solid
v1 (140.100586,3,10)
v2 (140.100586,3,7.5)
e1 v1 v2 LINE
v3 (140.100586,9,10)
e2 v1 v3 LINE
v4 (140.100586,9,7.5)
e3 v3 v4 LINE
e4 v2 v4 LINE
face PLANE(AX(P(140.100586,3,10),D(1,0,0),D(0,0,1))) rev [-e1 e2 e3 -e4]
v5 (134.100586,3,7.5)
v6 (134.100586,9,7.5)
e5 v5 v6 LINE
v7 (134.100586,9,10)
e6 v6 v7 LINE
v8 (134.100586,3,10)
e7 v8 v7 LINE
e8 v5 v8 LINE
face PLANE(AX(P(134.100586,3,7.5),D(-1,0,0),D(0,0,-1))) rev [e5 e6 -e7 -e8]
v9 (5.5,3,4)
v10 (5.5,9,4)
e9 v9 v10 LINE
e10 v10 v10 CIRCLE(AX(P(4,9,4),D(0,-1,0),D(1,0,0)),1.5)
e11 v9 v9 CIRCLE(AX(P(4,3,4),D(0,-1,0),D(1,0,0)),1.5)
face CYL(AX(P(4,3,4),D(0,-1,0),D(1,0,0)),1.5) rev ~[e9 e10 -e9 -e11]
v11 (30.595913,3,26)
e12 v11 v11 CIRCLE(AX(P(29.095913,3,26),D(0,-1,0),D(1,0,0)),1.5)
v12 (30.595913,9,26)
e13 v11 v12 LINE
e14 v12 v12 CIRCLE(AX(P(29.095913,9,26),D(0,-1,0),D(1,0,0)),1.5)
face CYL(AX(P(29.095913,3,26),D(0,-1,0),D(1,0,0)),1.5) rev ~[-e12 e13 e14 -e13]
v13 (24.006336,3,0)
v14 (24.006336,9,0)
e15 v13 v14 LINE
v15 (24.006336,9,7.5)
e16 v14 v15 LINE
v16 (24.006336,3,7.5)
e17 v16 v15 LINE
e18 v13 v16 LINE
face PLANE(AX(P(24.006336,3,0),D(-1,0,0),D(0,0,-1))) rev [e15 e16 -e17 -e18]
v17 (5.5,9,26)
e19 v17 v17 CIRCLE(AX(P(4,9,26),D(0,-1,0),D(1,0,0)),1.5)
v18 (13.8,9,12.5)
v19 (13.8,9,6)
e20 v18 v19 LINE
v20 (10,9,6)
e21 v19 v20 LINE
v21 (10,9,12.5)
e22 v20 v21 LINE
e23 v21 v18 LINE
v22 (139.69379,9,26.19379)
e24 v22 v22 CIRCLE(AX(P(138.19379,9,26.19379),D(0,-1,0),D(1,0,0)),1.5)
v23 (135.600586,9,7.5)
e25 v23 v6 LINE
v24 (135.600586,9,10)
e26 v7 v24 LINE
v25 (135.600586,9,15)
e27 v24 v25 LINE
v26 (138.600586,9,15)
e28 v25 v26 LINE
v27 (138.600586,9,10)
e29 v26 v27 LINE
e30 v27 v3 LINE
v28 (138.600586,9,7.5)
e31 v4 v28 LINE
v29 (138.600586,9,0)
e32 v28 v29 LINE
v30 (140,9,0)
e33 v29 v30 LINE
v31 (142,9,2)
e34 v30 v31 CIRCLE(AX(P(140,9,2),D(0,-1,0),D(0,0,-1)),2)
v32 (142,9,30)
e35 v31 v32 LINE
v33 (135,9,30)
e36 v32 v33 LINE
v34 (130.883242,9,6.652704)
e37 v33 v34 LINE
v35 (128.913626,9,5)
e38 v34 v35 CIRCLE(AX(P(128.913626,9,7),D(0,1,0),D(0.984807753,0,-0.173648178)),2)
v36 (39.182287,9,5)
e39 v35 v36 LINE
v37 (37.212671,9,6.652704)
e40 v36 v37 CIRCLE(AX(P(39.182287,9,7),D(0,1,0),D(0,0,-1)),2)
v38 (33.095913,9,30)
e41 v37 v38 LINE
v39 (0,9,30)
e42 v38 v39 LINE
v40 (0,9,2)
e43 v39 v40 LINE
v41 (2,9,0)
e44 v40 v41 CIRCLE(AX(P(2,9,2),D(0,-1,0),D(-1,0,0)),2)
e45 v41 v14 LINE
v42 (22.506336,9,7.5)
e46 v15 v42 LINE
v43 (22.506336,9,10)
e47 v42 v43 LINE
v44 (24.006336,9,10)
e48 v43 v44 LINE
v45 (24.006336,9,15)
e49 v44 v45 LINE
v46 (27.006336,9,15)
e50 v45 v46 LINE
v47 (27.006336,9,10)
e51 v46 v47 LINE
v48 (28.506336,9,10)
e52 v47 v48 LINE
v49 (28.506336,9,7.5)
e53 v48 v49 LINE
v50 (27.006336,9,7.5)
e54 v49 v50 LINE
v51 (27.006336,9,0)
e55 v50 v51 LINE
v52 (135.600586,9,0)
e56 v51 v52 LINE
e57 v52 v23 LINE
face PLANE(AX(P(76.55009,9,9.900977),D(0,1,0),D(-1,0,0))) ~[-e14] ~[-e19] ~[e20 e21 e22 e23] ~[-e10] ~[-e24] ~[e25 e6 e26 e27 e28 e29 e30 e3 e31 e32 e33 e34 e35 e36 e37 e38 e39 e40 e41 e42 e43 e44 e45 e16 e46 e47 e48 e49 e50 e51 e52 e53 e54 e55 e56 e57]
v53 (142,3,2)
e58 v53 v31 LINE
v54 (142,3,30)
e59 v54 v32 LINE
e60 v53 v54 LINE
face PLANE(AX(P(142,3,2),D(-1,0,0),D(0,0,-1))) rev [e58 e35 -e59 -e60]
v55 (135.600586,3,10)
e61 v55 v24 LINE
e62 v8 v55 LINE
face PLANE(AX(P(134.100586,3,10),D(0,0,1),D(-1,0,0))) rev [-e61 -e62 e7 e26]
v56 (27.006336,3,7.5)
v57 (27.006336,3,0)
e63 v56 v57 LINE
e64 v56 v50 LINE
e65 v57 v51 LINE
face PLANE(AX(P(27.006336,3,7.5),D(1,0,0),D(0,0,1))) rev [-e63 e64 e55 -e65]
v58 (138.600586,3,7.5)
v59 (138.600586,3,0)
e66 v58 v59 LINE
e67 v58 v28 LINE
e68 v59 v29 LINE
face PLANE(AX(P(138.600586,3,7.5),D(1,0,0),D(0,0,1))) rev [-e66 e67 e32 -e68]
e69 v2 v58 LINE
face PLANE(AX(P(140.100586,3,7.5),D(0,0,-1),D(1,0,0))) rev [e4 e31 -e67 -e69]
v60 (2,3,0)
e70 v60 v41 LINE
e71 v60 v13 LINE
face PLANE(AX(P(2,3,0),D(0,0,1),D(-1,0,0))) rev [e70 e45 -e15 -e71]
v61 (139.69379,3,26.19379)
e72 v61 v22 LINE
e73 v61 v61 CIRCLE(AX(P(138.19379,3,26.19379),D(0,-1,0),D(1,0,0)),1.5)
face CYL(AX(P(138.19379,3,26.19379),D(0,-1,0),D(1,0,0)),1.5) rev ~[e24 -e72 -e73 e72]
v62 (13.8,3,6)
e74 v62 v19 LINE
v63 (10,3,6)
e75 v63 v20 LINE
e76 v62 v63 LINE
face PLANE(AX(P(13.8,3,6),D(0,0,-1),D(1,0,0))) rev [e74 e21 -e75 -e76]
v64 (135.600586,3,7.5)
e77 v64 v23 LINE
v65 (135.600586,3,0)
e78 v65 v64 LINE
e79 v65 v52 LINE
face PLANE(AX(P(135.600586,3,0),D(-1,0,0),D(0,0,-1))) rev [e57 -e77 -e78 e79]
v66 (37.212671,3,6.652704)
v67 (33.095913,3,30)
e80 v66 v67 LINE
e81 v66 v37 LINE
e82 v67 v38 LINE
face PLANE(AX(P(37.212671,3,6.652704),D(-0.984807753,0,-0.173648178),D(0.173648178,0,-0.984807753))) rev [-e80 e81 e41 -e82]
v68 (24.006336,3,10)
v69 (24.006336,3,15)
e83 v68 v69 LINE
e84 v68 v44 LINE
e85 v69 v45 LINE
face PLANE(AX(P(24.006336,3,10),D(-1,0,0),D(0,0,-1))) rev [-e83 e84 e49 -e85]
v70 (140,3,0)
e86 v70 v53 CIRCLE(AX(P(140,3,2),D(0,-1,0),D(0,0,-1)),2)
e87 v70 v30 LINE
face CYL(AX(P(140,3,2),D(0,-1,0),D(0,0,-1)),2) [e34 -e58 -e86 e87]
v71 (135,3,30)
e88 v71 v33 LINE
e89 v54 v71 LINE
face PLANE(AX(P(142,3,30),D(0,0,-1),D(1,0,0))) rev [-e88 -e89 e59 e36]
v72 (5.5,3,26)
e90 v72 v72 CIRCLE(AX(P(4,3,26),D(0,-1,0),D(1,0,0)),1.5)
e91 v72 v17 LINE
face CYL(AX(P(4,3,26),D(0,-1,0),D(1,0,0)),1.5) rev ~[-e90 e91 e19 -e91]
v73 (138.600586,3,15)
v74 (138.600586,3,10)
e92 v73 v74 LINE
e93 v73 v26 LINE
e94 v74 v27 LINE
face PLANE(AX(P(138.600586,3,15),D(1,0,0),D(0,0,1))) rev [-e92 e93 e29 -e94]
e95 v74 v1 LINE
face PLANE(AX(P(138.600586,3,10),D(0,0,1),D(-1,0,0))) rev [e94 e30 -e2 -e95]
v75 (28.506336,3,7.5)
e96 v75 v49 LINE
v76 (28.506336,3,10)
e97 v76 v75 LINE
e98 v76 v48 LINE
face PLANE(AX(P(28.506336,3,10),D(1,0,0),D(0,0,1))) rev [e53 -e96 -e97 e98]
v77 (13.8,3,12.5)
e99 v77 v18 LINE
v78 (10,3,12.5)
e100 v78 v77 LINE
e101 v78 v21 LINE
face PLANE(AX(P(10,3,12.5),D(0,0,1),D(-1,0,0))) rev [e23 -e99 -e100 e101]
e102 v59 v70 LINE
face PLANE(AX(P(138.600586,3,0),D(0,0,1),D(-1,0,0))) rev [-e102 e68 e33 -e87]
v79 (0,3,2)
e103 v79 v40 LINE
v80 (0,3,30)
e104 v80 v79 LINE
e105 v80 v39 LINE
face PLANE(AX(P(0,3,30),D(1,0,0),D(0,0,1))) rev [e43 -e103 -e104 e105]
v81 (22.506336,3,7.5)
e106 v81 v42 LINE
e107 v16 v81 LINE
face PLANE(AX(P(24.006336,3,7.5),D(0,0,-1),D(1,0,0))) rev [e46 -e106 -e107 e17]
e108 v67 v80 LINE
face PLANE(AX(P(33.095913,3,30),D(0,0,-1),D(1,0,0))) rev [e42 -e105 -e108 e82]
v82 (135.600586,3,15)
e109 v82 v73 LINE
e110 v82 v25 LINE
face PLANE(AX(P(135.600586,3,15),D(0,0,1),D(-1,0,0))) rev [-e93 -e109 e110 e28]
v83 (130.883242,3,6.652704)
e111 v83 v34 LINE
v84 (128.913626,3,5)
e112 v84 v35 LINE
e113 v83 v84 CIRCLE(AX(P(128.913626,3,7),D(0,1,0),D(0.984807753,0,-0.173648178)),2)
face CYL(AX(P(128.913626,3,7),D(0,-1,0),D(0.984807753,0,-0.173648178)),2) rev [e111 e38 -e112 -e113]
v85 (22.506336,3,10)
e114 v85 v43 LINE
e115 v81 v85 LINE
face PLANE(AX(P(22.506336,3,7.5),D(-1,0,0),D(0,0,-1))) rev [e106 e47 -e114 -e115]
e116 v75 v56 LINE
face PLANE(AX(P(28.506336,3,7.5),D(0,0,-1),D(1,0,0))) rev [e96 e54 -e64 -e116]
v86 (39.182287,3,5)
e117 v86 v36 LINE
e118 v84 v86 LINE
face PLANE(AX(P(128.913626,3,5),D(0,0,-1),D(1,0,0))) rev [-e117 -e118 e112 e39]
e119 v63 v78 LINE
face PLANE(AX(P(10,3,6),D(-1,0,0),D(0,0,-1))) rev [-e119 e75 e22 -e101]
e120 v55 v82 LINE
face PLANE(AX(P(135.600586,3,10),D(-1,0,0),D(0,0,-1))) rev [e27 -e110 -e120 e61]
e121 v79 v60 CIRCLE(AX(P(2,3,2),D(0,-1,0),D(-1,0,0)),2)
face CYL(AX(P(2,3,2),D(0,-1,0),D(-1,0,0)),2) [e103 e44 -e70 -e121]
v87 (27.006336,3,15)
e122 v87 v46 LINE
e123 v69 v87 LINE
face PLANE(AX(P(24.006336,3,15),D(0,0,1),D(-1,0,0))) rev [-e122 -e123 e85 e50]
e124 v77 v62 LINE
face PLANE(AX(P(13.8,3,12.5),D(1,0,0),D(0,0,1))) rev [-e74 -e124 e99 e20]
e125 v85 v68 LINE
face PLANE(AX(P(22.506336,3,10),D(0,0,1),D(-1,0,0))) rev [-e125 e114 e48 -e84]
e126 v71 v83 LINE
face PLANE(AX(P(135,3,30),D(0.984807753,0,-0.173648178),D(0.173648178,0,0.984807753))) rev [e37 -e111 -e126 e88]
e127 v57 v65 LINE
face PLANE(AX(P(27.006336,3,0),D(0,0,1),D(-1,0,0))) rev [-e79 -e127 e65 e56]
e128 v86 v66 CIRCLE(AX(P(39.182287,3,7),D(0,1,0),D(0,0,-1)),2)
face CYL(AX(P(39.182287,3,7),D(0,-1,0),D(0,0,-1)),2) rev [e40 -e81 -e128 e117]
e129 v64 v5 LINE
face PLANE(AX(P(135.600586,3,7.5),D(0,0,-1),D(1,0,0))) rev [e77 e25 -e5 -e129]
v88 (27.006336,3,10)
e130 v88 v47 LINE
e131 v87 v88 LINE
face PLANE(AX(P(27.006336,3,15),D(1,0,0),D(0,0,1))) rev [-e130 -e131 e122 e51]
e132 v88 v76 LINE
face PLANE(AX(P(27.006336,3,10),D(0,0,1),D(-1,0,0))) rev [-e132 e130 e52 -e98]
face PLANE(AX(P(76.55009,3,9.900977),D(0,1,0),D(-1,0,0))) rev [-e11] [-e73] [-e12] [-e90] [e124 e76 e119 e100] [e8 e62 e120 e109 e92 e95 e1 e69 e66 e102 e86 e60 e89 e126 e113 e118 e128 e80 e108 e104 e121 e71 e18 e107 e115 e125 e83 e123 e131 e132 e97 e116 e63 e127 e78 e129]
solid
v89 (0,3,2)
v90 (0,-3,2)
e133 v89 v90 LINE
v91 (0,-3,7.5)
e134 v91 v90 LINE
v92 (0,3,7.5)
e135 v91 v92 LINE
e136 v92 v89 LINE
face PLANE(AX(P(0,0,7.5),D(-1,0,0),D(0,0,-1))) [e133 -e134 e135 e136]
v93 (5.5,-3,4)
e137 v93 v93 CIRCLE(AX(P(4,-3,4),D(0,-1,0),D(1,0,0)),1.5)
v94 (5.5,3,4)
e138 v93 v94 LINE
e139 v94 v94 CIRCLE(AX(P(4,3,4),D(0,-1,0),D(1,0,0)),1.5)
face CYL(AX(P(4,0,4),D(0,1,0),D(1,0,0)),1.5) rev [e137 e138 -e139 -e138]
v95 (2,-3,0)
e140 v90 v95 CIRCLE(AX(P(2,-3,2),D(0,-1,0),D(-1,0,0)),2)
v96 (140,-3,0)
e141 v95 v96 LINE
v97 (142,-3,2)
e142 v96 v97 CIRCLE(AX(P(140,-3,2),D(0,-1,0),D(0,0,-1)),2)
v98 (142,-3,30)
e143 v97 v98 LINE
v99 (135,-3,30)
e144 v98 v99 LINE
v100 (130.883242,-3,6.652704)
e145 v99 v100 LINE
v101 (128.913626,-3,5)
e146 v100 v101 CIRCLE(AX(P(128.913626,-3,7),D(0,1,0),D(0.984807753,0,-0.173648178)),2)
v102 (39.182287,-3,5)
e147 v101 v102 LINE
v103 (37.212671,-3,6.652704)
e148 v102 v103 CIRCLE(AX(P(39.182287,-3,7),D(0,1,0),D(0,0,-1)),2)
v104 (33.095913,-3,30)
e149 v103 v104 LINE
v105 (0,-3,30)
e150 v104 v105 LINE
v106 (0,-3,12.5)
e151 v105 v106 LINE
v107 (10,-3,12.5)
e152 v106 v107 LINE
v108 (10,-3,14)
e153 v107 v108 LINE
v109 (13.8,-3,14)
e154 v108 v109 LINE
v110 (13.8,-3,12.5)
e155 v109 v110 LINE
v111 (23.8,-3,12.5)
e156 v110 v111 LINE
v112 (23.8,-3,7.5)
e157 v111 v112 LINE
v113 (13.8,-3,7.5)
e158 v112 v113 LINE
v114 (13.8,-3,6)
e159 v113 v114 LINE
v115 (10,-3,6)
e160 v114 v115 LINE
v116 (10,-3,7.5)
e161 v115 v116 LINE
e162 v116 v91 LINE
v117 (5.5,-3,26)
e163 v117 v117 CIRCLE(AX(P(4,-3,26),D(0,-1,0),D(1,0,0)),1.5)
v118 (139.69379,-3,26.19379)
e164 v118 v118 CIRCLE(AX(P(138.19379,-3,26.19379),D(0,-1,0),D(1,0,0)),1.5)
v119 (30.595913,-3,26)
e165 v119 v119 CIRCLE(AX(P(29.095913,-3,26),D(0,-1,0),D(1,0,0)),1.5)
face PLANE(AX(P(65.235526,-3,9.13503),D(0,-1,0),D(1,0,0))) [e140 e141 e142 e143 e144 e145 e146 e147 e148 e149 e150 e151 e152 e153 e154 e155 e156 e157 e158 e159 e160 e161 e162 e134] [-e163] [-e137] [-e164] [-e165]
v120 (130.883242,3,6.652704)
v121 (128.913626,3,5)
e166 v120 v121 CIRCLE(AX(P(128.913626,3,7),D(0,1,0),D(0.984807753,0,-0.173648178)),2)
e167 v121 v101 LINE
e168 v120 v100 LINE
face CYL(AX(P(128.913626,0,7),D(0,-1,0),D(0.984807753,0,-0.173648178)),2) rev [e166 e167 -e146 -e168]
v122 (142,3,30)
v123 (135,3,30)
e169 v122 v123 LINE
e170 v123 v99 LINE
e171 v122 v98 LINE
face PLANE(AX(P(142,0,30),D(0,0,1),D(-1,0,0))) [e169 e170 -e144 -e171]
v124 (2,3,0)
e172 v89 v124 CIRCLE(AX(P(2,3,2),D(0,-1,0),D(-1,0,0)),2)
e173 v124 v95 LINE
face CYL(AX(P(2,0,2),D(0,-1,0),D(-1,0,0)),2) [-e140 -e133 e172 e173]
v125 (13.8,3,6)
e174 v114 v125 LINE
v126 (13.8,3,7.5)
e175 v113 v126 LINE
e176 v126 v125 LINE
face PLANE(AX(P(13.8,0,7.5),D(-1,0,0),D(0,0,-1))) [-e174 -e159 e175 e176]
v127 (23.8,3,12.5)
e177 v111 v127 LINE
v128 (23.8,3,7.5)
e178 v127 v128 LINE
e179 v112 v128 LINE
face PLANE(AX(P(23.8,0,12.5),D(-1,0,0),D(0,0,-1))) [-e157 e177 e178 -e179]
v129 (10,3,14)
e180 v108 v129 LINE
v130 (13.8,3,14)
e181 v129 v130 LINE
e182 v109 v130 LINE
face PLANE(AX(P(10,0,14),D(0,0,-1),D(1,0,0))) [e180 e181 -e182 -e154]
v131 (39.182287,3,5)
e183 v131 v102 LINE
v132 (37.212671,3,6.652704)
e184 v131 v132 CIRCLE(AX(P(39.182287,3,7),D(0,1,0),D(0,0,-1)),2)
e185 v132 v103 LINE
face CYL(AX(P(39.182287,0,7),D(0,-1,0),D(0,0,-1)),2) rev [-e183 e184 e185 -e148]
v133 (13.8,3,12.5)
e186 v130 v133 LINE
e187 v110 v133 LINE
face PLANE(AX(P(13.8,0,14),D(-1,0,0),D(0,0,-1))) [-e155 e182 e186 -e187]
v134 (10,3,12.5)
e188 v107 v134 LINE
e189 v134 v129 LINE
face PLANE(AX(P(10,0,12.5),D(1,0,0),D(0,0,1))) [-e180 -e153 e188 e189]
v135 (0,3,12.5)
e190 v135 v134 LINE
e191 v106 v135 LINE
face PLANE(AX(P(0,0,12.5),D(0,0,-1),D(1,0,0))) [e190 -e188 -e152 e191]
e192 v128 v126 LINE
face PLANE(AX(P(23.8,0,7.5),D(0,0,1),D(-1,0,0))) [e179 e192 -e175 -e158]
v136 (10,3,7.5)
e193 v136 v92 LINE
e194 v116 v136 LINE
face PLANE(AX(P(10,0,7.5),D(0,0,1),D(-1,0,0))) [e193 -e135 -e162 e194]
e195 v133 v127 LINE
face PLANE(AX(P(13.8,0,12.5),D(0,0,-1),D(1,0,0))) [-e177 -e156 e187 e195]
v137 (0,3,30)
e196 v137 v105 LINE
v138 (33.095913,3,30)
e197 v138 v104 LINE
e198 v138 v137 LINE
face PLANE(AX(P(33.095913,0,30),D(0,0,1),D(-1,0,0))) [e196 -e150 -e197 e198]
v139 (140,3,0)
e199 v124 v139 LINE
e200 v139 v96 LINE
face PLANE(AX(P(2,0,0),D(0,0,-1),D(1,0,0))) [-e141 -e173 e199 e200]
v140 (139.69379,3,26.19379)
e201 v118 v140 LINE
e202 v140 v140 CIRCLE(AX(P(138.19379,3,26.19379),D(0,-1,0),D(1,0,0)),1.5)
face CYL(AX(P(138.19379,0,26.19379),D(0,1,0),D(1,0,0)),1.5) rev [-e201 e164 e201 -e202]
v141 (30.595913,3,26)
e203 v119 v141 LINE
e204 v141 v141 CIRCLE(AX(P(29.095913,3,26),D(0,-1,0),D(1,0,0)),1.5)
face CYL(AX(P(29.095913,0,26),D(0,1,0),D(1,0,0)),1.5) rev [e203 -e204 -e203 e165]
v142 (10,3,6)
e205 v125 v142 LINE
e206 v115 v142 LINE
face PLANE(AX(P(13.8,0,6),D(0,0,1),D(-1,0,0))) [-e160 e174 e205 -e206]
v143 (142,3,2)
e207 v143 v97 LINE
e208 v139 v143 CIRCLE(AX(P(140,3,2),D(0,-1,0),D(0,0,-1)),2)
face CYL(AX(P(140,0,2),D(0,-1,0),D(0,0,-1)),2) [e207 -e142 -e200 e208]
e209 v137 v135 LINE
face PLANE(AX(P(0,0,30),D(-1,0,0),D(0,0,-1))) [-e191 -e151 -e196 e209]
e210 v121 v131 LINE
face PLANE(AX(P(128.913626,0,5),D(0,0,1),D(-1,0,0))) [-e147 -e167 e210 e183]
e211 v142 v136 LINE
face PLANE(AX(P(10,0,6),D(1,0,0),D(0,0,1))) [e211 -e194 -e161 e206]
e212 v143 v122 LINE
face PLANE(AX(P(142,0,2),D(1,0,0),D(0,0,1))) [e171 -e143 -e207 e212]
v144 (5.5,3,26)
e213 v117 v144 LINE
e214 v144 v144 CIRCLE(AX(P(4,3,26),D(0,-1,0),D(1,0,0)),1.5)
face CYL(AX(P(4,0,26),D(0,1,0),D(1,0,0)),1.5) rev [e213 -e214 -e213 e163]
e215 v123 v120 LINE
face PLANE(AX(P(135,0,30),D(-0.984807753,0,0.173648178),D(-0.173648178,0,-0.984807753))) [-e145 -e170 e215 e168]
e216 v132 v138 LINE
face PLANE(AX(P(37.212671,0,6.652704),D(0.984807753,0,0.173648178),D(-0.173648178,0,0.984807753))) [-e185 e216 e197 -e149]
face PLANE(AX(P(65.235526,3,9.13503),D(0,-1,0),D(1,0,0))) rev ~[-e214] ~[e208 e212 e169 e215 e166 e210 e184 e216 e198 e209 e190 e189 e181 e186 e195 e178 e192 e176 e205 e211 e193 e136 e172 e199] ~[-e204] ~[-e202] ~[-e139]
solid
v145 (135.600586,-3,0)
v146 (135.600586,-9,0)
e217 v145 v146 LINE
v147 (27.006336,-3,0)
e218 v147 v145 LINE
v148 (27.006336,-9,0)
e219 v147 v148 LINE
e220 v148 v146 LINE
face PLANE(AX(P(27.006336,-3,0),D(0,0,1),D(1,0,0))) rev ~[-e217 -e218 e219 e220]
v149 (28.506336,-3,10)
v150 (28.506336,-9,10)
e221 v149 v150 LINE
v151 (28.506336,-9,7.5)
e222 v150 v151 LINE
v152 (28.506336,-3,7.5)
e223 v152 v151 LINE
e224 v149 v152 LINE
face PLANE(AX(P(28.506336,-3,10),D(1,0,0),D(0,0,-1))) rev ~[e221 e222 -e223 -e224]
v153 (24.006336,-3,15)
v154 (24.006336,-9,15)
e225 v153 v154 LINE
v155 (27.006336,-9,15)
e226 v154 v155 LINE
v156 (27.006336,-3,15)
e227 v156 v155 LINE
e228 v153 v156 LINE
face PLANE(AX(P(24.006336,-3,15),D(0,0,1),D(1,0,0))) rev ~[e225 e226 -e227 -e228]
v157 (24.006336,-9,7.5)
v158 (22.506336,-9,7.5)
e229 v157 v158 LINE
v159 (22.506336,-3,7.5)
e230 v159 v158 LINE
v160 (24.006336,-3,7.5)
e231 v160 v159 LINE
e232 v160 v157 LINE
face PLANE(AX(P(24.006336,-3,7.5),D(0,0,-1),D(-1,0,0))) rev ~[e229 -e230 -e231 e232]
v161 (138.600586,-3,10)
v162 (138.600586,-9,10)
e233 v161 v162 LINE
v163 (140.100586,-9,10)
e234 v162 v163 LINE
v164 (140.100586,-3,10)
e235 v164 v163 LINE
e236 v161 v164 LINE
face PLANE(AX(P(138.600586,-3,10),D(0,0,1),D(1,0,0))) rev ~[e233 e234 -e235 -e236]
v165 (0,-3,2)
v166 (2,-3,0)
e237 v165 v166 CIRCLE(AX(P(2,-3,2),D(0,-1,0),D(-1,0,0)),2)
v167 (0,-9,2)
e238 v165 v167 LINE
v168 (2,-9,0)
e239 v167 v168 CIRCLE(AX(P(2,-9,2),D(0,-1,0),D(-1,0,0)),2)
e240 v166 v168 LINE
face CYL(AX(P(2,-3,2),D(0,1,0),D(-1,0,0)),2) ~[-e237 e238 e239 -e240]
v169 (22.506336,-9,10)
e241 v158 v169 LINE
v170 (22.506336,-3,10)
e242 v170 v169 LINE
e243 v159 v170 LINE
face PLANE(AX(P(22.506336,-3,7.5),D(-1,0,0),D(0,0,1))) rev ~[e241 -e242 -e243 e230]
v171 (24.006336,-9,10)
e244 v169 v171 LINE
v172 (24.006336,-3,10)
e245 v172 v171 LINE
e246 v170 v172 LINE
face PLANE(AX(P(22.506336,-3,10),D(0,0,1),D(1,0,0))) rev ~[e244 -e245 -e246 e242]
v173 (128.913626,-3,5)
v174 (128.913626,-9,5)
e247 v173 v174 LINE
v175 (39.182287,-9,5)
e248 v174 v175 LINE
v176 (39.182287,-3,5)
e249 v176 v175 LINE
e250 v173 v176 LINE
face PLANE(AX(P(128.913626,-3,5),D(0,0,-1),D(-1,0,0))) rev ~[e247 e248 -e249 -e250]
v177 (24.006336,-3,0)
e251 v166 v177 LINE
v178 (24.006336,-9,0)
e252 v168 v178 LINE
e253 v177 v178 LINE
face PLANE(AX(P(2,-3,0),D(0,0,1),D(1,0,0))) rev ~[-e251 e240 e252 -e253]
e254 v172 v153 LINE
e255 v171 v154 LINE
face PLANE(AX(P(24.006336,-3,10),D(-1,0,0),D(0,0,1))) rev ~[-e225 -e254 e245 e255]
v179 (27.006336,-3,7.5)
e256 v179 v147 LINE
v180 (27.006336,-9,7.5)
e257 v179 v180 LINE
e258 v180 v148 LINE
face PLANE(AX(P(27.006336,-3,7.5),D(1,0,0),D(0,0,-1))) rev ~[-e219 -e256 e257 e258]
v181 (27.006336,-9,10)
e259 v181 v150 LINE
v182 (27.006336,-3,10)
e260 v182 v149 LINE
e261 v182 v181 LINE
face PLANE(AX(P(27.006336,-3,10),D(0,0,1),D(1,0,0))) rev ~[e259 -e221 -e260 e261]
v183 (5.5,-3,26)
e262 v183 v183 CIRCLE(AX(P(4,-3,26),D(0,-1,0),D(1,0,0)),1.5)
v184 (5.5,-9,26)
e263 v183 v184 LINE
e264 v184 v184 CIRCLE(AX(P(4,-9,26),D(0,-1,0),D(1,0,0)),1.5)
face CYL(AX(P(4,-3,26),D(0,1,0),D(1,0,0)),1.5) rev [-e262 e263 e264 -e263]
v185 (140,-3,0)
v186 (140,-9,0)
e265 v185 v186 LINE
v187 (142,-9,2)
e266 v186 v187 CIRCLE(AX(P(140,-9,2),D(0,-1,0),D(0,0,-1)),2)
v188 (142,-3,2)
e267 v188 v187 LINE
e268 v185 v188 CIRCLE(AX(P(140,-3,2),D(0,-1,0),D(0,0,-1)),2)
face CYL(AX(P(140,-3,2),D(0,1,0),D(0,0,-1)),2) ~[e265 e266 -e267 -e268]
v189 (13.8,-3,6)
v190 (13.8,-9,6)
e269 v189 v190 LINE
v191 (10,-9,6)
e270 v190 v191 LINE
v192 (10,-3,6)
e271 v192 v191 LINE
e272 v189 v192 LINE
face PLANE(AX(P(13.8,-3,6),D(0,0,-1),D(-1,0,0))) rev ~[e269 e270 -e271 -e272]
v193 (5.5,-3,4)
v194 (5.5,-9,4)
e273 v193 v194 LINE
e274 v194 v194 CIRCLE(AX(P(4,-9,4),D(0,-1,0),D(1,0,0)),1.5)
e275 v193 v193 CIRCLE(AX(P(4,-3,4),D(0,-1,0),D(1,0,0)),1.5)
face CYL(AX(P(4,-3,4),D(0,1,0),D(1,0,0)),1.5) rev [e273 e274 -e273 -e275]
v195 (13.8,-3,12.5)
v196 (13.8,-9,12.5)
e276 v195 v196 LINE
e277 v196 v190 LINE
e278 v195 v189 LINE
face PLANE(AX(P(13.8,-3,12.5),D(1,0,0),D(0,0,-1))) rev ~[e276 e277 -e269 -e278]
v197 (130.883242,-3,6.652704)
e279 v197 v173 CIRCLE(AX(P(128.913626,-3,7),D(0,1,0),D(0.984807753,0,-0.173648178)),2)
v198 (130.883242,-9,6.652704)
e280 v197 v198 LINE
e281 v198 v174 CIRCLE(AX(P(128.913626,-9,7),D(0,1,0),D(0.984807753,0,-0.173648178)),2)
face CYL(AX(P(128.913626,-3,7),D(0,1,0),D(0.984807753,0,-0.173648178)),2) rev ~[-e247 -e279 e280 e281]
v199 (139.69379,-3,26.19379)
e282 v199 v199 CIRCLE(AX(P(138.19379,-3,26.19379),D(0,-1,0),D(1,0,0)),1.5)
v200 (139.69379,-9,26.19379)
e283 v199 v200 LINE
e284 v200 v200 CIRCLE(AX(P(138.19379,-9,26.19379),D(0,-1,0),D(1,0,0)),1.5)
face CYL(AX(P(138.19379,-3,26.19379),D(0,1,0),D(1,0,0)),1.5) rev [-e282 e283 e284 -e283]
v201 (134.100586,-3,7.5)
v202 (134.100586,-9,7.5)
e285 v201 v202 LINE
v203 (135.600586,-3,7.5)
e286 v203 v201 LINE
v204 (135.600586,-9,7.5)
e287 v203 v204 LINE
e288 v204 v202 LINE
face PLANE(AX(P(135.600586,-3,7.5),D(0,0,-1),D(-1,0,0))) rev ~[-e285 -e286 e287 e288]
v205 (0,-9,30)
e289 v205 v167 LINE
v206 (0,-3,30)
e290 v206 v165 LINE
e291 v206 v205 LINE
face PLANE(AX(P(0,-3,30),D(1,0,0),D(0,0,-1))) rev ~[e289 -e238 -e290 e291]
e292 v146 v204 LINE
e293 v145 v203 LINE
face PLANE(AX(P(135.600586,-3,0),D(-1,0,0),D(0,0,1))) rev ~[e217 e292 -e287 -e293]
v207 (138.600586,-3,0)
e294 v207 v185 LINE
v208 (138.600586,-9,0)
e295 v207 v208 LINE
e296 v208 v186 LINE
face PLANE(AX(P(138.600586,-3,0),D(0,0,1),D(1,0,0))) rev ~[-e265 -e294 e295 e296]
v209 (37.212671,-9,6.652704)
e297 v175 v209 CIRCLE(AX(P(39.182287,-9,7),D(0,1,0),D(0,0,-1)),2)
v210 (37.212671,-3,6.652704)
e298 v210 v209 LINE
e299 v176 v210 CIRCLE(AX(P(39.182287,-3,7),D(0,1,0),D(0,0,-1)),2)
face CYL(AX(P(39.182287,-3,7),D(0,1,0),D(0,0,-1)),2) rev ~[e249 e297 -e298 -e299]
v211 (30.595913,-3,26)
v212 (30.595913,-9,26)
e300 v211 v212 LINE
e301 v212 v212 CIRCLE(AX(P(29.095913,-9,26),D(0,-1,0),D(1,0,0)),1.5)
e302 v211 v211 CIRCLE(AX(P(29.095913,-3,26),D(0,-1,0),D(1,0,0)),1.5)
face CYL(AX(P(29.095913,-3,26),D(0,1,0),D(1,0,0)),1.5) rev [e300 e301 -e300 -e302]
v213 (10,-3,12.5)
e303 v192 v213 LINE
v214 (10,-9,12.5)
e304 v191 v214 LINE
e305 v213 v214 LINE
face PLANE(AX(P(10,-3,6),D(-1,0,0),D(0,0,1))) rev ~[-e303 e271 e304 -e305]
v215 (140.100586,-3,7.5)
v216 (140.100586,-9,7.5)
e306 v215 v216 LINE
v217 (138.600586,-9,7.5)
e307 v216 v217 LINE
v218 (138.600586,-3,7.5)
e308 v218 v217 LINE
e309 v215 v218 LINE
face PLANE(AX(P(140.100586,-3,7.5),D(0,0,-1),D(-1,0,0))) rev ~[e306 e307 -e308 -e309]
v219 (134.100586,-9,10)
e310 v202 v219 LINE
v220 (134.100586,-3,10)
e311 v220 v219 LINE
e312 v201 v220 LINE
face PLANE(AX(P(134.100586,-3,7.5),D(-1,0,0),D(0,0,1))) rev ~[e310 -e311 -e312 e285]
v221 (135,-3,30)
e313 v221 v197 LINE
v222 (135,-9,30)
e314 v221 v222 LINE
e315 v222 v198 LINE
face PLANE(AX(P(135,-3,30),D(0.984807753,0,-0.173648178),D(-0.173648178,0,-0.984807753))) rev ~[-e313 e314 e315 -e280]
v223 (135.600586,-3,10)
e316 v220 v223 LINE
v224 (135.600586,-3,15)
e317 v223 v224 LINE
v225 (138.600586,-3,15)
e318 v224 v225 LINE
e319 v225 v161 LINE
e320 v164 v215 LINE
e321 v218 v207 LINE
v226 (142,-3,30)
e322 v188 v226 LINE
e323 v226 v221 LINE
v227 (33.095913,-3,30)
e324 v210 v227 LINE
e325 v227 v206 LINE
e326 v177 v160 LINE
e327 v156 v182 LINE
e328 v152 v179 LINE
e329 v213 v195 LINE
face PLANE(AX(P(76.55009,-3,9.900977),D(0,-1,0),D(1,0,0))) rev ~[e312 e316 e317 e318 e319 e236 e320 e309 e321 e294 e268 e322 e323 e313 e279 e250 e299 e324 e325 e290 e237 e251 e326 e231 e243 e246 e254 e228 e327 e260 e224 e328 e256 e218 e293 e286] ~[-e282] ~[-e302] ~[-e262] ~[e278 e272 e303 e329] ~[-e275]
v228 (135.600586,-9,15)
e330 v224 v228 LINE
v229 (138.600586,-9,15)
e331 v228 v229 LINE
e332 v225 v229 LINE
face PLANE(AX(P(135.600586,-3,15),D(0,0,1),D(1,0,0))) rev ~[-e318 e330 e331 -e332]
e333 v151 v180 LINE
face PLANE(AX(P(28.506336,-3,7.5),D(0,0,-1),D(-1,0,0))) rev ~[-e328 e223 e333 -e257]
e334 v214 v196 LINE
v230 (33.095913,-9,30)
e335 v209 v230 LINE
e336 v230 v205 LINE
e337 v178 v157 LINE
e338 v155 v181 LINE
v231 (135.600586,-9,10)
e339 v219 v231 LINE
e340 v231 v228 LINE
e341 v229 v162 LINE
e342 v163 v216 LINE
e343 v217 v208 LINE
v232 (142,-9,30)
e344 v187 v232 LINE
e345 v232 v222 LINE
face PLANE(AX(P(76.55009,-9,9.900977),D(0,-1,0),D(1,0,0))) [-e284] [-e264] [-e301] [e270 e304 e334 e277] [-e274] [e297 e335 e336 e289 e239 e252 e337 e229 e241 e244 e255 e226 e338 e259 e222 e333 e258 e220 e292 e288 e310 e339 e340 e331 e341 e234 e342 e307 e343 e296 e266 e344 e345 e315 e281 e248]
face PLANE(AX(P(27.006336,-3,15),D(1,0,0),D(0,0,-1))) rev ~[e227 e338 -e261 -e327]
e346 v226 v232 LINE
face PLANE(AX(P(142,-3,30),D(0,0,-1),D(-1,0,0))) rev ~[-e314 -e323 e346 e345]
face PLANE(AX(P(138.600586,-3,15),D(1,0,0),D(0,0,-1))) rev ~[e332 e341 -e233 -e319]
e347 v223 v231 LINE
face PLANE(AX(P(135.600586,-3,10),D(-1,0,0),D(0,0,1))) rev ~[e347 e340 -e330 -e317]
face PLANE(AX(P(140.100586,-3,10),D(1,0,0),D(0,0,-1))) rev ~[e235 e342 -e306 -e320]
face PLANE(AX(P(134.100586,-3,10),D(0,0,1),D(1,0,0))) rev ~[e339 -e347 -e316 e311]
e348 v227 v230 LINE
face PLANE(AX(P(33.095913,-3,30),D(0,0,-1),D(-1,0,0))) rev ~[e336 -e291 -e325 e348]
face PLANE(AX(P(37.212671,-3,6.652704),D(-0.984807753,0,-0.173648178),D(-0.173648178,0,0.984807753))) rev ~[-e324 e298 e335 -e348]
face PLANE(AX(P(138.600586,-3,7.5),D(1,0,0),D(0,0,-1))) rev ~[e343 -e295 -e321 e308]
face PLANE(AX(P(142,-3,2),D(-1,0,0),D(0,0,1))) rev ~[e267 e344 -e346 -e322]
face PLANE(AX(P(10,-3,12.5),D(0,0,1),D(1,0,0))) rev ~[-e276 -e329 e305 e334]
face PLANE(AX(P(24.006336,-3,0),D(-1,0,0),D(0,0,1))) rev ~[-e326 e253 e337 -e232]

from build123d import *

# Parameters (mm, degrees)
F0_R     = 1.5
F1_DEPTH = 3
F2_R     = 1.5
F2_W     = 10
F2_H     = 5
F2_W_2   = 3.8
F2_H_2   = 1.5
F3_DEPTH = 6


with BuildPart() as f1:
    # F0 (on Front) → F1 (new body, symmetric)
    with BuildSketch(Plane.XZ):
        with BuildLine():
            Line((0, 7.5), (0, 2))
            ThreePointArc((0, 2), (0.5857864376, 0.5857864376), (2, 0))
            Line((2, 0), (140, 0))
            ThreePointArc((140, 0), (141.4142135624, 0.5857864376), (142, 2))
            Line((142, 2), (142, 30))
            Line((142, 30), (135, 30))
            Line((135, 30), (130.883241726, 6.6527036447))
            ThreePointArc((130.883241726, 6.6527036447), (130.1992014393, 5.4679111138), (128.9136262199, 5))
            Line((128.9136262199, 5), (39.1822865212, 5))
            ThreePointArc((39.1822865212, 5), (37.8967113018, 5.4679111138), (37.2126710152, 6.6527036447))
            Line((37.2126710152, 6.6527036447), (33.0959127411, 30))
            Line((33.0959127411, 30), (0, 30))
            Line((0, 30), (0, 12.5))
            Line((0, 12.5), (10, 12.5))
            Line((10, 12.5), (10, 14))
            Line((10, 14), (13.8, 14))
            Line((13.8, 14), (13.8, 12.5))
            Line((13.8, 12.5), (23.8, 12.5))
            Line((23.8, 12.5), (23.8, 7.5))
            Line((23.8, 7.5), (13.8, 7.5))
            Line((13.8, 7.5), (13.8, 6))
            Line((13.8, 6), (10, 6))
            Line((10, 6), (10, 7.5))
            Line((10, 7.5), (0, 7.5))
        make_face()
        with Locations((4, 4)):
            Circle(F0_R, mode=Mode.SUBTRACT)
        with Locations((4, 26)):
            Circle(F0_R, mode=Mode.SUBTRACT)
        with Locations((29.0959127411, 26)):
            Circle(F0_R, mode=Mode.SUBTRACT)
        with Locations((138.1937896777, 26.1937896777)):
            Circle(F0_R, mode=Mode.SUBTRACT)
    extrude(amount=F1_DEPTH, both=True)


with BuildPart() as f3:
    # F2 (on face) → F3 (new body)
    with BuildSketch(Plane.XZ.offset(3)):
        with BuildLine():
            Line((33.0959127411, 30), (0, 30))
            Line((0, 30), (0, 12.5))
            Line((0, 12.5), (10, 12.5))
            Line((10, 12.5), (10, 14))
            Line((10, 14), (13.8, 14))
            Line((13.8, 14), (13.8, 12.5))
            Line((13.8, 12.5), (23.8, 12.5))
            Line((23.8, 12.5), (23.8, 10))
            Line((23.8, 10), (24.0063355076, 10))
            Line((24.0063355076, 10), (24.0063355076, 15))
            Line((24.0063355076, 15), (27.0063355076, 15))
            Line((27.0063355076, 15), (27.0063355076, 10))
            Line((27.0063355076, 10), (28.5063355076, 10))
            Line((28.5063355076, 10), (28.5063355076, 7.5))
            Line((28.5063355076, 7.5), (27.0063355076, 7.5))
            Line((27.0063355076, 7.5), (27.0063355076, 0))
            Line((27.0063355076, 0), (135.6005855076, 0))
            Line((135.6005855076, 0), (135.6005855076, 7.5))
            Line((135.6005855076, 7.5), (134.1005855076, 7.5))
            Line((134.1005855076, 7.5), (134.1005855076, 10))
            Line((134.1005855076, 10), (135.6005855076, 10))
            Line((135.6005855076, 10), (135.6005855076, 15))
            Line((135.6005855076, 15), (138.6005855076, 15))
            Line((138.6005855076, 15), (138.6005855076, 10))
            Line((138.6005855076, 10), (140.1005855076, 10))
            Line((140.1005855076, 10), (140.1005855076, 7.5))
            Line((140.1005855076, 7.5), (138.6005855076, 7.5))
            Line((138.6005855076, 7.5), (138.6005855076, 0))
            Line((138.6005855076, 0), (140, 0))
            ThreePointArc((140, 0), (141.4142135624, 0.5857864376), (142, 2))
            Line((142, 2), (142, 30))
            Line((142, 30), (135, 30))
            Line((135, 30), (130.883241726, 6.6527036447))
            ThreePointArc((130.883241726, 6.6527036447), (130.1992014393, 5.4679111138), (128.9136262199, 5))
            Line((128.9136262199, 5), (39.1822865212, 5))
            ThreePointArc((39.1822865212, 5), (37.8967113018, 5.4679111138), (37.2126710152, 6.6527036447))
            Line((37.2126710152, 6.6527036447), (33.0959127411, 30))
        make_face()
        with Locations((4, 26)):
            Circle(F2_R, mode=Mode.SUBTRACT)
        with Locations((29.0959127411, 26)):
            Circle(F2_R, mode=Mode.SUBTRACT)
        with Locations((138.1937896777, 26.1937896777)):
            Circle(F2_R, mode=Mode.SUBTRACT)
        with Locations((5, 10)):
            Rectangle(F2_W, F2_H)
        with Locations((11.9, 13.25)):
            Rectangle(F2_W_2, F2_H_2)
        Polygon((23.8, 12.5), (13.8, 12.5), (13.8, 7.5), (22.5063355076, 7.5), (22.5063355076, 10), (23.8, 10), align=None)
        with BuildLine():
            Line((10, 7.5), (0, 7.5))
            Line((0, 7.5), (0, 2))
            ThreePointArc((0, 2), (0.5857864376, 0.5857864376), (2, 0))
            Line((2, 0), (24.0063355076, 0))
            Line((24.0063355076, 0), (24.0063355076, 7.5))
            Line((24.0063355076, 7.5), (23.8, 7.5))
            Line((23.8, 7.5), (22.5063355076, 7.5))
            Line((22.5063355076, 7.5), (13.8, 7.5))
            Line((13.8, 7.5), (13.8, 6))
            Line((13.8, 6), (10, 6))
            Line((10, 6), (10, 7.5))
        make_face()
        with Locations((4, 4)):
            Circle(F2_R, mode=Mode.SUBTRACT)
    extrude(amount=F3_DEPTH)


with BuildPart() as f4_1:
    # F4: instance of F3
    add(f3.part.mirror(Plane.XZ))


solid = Compound([f1.part, f3.part, f4_1.part])
